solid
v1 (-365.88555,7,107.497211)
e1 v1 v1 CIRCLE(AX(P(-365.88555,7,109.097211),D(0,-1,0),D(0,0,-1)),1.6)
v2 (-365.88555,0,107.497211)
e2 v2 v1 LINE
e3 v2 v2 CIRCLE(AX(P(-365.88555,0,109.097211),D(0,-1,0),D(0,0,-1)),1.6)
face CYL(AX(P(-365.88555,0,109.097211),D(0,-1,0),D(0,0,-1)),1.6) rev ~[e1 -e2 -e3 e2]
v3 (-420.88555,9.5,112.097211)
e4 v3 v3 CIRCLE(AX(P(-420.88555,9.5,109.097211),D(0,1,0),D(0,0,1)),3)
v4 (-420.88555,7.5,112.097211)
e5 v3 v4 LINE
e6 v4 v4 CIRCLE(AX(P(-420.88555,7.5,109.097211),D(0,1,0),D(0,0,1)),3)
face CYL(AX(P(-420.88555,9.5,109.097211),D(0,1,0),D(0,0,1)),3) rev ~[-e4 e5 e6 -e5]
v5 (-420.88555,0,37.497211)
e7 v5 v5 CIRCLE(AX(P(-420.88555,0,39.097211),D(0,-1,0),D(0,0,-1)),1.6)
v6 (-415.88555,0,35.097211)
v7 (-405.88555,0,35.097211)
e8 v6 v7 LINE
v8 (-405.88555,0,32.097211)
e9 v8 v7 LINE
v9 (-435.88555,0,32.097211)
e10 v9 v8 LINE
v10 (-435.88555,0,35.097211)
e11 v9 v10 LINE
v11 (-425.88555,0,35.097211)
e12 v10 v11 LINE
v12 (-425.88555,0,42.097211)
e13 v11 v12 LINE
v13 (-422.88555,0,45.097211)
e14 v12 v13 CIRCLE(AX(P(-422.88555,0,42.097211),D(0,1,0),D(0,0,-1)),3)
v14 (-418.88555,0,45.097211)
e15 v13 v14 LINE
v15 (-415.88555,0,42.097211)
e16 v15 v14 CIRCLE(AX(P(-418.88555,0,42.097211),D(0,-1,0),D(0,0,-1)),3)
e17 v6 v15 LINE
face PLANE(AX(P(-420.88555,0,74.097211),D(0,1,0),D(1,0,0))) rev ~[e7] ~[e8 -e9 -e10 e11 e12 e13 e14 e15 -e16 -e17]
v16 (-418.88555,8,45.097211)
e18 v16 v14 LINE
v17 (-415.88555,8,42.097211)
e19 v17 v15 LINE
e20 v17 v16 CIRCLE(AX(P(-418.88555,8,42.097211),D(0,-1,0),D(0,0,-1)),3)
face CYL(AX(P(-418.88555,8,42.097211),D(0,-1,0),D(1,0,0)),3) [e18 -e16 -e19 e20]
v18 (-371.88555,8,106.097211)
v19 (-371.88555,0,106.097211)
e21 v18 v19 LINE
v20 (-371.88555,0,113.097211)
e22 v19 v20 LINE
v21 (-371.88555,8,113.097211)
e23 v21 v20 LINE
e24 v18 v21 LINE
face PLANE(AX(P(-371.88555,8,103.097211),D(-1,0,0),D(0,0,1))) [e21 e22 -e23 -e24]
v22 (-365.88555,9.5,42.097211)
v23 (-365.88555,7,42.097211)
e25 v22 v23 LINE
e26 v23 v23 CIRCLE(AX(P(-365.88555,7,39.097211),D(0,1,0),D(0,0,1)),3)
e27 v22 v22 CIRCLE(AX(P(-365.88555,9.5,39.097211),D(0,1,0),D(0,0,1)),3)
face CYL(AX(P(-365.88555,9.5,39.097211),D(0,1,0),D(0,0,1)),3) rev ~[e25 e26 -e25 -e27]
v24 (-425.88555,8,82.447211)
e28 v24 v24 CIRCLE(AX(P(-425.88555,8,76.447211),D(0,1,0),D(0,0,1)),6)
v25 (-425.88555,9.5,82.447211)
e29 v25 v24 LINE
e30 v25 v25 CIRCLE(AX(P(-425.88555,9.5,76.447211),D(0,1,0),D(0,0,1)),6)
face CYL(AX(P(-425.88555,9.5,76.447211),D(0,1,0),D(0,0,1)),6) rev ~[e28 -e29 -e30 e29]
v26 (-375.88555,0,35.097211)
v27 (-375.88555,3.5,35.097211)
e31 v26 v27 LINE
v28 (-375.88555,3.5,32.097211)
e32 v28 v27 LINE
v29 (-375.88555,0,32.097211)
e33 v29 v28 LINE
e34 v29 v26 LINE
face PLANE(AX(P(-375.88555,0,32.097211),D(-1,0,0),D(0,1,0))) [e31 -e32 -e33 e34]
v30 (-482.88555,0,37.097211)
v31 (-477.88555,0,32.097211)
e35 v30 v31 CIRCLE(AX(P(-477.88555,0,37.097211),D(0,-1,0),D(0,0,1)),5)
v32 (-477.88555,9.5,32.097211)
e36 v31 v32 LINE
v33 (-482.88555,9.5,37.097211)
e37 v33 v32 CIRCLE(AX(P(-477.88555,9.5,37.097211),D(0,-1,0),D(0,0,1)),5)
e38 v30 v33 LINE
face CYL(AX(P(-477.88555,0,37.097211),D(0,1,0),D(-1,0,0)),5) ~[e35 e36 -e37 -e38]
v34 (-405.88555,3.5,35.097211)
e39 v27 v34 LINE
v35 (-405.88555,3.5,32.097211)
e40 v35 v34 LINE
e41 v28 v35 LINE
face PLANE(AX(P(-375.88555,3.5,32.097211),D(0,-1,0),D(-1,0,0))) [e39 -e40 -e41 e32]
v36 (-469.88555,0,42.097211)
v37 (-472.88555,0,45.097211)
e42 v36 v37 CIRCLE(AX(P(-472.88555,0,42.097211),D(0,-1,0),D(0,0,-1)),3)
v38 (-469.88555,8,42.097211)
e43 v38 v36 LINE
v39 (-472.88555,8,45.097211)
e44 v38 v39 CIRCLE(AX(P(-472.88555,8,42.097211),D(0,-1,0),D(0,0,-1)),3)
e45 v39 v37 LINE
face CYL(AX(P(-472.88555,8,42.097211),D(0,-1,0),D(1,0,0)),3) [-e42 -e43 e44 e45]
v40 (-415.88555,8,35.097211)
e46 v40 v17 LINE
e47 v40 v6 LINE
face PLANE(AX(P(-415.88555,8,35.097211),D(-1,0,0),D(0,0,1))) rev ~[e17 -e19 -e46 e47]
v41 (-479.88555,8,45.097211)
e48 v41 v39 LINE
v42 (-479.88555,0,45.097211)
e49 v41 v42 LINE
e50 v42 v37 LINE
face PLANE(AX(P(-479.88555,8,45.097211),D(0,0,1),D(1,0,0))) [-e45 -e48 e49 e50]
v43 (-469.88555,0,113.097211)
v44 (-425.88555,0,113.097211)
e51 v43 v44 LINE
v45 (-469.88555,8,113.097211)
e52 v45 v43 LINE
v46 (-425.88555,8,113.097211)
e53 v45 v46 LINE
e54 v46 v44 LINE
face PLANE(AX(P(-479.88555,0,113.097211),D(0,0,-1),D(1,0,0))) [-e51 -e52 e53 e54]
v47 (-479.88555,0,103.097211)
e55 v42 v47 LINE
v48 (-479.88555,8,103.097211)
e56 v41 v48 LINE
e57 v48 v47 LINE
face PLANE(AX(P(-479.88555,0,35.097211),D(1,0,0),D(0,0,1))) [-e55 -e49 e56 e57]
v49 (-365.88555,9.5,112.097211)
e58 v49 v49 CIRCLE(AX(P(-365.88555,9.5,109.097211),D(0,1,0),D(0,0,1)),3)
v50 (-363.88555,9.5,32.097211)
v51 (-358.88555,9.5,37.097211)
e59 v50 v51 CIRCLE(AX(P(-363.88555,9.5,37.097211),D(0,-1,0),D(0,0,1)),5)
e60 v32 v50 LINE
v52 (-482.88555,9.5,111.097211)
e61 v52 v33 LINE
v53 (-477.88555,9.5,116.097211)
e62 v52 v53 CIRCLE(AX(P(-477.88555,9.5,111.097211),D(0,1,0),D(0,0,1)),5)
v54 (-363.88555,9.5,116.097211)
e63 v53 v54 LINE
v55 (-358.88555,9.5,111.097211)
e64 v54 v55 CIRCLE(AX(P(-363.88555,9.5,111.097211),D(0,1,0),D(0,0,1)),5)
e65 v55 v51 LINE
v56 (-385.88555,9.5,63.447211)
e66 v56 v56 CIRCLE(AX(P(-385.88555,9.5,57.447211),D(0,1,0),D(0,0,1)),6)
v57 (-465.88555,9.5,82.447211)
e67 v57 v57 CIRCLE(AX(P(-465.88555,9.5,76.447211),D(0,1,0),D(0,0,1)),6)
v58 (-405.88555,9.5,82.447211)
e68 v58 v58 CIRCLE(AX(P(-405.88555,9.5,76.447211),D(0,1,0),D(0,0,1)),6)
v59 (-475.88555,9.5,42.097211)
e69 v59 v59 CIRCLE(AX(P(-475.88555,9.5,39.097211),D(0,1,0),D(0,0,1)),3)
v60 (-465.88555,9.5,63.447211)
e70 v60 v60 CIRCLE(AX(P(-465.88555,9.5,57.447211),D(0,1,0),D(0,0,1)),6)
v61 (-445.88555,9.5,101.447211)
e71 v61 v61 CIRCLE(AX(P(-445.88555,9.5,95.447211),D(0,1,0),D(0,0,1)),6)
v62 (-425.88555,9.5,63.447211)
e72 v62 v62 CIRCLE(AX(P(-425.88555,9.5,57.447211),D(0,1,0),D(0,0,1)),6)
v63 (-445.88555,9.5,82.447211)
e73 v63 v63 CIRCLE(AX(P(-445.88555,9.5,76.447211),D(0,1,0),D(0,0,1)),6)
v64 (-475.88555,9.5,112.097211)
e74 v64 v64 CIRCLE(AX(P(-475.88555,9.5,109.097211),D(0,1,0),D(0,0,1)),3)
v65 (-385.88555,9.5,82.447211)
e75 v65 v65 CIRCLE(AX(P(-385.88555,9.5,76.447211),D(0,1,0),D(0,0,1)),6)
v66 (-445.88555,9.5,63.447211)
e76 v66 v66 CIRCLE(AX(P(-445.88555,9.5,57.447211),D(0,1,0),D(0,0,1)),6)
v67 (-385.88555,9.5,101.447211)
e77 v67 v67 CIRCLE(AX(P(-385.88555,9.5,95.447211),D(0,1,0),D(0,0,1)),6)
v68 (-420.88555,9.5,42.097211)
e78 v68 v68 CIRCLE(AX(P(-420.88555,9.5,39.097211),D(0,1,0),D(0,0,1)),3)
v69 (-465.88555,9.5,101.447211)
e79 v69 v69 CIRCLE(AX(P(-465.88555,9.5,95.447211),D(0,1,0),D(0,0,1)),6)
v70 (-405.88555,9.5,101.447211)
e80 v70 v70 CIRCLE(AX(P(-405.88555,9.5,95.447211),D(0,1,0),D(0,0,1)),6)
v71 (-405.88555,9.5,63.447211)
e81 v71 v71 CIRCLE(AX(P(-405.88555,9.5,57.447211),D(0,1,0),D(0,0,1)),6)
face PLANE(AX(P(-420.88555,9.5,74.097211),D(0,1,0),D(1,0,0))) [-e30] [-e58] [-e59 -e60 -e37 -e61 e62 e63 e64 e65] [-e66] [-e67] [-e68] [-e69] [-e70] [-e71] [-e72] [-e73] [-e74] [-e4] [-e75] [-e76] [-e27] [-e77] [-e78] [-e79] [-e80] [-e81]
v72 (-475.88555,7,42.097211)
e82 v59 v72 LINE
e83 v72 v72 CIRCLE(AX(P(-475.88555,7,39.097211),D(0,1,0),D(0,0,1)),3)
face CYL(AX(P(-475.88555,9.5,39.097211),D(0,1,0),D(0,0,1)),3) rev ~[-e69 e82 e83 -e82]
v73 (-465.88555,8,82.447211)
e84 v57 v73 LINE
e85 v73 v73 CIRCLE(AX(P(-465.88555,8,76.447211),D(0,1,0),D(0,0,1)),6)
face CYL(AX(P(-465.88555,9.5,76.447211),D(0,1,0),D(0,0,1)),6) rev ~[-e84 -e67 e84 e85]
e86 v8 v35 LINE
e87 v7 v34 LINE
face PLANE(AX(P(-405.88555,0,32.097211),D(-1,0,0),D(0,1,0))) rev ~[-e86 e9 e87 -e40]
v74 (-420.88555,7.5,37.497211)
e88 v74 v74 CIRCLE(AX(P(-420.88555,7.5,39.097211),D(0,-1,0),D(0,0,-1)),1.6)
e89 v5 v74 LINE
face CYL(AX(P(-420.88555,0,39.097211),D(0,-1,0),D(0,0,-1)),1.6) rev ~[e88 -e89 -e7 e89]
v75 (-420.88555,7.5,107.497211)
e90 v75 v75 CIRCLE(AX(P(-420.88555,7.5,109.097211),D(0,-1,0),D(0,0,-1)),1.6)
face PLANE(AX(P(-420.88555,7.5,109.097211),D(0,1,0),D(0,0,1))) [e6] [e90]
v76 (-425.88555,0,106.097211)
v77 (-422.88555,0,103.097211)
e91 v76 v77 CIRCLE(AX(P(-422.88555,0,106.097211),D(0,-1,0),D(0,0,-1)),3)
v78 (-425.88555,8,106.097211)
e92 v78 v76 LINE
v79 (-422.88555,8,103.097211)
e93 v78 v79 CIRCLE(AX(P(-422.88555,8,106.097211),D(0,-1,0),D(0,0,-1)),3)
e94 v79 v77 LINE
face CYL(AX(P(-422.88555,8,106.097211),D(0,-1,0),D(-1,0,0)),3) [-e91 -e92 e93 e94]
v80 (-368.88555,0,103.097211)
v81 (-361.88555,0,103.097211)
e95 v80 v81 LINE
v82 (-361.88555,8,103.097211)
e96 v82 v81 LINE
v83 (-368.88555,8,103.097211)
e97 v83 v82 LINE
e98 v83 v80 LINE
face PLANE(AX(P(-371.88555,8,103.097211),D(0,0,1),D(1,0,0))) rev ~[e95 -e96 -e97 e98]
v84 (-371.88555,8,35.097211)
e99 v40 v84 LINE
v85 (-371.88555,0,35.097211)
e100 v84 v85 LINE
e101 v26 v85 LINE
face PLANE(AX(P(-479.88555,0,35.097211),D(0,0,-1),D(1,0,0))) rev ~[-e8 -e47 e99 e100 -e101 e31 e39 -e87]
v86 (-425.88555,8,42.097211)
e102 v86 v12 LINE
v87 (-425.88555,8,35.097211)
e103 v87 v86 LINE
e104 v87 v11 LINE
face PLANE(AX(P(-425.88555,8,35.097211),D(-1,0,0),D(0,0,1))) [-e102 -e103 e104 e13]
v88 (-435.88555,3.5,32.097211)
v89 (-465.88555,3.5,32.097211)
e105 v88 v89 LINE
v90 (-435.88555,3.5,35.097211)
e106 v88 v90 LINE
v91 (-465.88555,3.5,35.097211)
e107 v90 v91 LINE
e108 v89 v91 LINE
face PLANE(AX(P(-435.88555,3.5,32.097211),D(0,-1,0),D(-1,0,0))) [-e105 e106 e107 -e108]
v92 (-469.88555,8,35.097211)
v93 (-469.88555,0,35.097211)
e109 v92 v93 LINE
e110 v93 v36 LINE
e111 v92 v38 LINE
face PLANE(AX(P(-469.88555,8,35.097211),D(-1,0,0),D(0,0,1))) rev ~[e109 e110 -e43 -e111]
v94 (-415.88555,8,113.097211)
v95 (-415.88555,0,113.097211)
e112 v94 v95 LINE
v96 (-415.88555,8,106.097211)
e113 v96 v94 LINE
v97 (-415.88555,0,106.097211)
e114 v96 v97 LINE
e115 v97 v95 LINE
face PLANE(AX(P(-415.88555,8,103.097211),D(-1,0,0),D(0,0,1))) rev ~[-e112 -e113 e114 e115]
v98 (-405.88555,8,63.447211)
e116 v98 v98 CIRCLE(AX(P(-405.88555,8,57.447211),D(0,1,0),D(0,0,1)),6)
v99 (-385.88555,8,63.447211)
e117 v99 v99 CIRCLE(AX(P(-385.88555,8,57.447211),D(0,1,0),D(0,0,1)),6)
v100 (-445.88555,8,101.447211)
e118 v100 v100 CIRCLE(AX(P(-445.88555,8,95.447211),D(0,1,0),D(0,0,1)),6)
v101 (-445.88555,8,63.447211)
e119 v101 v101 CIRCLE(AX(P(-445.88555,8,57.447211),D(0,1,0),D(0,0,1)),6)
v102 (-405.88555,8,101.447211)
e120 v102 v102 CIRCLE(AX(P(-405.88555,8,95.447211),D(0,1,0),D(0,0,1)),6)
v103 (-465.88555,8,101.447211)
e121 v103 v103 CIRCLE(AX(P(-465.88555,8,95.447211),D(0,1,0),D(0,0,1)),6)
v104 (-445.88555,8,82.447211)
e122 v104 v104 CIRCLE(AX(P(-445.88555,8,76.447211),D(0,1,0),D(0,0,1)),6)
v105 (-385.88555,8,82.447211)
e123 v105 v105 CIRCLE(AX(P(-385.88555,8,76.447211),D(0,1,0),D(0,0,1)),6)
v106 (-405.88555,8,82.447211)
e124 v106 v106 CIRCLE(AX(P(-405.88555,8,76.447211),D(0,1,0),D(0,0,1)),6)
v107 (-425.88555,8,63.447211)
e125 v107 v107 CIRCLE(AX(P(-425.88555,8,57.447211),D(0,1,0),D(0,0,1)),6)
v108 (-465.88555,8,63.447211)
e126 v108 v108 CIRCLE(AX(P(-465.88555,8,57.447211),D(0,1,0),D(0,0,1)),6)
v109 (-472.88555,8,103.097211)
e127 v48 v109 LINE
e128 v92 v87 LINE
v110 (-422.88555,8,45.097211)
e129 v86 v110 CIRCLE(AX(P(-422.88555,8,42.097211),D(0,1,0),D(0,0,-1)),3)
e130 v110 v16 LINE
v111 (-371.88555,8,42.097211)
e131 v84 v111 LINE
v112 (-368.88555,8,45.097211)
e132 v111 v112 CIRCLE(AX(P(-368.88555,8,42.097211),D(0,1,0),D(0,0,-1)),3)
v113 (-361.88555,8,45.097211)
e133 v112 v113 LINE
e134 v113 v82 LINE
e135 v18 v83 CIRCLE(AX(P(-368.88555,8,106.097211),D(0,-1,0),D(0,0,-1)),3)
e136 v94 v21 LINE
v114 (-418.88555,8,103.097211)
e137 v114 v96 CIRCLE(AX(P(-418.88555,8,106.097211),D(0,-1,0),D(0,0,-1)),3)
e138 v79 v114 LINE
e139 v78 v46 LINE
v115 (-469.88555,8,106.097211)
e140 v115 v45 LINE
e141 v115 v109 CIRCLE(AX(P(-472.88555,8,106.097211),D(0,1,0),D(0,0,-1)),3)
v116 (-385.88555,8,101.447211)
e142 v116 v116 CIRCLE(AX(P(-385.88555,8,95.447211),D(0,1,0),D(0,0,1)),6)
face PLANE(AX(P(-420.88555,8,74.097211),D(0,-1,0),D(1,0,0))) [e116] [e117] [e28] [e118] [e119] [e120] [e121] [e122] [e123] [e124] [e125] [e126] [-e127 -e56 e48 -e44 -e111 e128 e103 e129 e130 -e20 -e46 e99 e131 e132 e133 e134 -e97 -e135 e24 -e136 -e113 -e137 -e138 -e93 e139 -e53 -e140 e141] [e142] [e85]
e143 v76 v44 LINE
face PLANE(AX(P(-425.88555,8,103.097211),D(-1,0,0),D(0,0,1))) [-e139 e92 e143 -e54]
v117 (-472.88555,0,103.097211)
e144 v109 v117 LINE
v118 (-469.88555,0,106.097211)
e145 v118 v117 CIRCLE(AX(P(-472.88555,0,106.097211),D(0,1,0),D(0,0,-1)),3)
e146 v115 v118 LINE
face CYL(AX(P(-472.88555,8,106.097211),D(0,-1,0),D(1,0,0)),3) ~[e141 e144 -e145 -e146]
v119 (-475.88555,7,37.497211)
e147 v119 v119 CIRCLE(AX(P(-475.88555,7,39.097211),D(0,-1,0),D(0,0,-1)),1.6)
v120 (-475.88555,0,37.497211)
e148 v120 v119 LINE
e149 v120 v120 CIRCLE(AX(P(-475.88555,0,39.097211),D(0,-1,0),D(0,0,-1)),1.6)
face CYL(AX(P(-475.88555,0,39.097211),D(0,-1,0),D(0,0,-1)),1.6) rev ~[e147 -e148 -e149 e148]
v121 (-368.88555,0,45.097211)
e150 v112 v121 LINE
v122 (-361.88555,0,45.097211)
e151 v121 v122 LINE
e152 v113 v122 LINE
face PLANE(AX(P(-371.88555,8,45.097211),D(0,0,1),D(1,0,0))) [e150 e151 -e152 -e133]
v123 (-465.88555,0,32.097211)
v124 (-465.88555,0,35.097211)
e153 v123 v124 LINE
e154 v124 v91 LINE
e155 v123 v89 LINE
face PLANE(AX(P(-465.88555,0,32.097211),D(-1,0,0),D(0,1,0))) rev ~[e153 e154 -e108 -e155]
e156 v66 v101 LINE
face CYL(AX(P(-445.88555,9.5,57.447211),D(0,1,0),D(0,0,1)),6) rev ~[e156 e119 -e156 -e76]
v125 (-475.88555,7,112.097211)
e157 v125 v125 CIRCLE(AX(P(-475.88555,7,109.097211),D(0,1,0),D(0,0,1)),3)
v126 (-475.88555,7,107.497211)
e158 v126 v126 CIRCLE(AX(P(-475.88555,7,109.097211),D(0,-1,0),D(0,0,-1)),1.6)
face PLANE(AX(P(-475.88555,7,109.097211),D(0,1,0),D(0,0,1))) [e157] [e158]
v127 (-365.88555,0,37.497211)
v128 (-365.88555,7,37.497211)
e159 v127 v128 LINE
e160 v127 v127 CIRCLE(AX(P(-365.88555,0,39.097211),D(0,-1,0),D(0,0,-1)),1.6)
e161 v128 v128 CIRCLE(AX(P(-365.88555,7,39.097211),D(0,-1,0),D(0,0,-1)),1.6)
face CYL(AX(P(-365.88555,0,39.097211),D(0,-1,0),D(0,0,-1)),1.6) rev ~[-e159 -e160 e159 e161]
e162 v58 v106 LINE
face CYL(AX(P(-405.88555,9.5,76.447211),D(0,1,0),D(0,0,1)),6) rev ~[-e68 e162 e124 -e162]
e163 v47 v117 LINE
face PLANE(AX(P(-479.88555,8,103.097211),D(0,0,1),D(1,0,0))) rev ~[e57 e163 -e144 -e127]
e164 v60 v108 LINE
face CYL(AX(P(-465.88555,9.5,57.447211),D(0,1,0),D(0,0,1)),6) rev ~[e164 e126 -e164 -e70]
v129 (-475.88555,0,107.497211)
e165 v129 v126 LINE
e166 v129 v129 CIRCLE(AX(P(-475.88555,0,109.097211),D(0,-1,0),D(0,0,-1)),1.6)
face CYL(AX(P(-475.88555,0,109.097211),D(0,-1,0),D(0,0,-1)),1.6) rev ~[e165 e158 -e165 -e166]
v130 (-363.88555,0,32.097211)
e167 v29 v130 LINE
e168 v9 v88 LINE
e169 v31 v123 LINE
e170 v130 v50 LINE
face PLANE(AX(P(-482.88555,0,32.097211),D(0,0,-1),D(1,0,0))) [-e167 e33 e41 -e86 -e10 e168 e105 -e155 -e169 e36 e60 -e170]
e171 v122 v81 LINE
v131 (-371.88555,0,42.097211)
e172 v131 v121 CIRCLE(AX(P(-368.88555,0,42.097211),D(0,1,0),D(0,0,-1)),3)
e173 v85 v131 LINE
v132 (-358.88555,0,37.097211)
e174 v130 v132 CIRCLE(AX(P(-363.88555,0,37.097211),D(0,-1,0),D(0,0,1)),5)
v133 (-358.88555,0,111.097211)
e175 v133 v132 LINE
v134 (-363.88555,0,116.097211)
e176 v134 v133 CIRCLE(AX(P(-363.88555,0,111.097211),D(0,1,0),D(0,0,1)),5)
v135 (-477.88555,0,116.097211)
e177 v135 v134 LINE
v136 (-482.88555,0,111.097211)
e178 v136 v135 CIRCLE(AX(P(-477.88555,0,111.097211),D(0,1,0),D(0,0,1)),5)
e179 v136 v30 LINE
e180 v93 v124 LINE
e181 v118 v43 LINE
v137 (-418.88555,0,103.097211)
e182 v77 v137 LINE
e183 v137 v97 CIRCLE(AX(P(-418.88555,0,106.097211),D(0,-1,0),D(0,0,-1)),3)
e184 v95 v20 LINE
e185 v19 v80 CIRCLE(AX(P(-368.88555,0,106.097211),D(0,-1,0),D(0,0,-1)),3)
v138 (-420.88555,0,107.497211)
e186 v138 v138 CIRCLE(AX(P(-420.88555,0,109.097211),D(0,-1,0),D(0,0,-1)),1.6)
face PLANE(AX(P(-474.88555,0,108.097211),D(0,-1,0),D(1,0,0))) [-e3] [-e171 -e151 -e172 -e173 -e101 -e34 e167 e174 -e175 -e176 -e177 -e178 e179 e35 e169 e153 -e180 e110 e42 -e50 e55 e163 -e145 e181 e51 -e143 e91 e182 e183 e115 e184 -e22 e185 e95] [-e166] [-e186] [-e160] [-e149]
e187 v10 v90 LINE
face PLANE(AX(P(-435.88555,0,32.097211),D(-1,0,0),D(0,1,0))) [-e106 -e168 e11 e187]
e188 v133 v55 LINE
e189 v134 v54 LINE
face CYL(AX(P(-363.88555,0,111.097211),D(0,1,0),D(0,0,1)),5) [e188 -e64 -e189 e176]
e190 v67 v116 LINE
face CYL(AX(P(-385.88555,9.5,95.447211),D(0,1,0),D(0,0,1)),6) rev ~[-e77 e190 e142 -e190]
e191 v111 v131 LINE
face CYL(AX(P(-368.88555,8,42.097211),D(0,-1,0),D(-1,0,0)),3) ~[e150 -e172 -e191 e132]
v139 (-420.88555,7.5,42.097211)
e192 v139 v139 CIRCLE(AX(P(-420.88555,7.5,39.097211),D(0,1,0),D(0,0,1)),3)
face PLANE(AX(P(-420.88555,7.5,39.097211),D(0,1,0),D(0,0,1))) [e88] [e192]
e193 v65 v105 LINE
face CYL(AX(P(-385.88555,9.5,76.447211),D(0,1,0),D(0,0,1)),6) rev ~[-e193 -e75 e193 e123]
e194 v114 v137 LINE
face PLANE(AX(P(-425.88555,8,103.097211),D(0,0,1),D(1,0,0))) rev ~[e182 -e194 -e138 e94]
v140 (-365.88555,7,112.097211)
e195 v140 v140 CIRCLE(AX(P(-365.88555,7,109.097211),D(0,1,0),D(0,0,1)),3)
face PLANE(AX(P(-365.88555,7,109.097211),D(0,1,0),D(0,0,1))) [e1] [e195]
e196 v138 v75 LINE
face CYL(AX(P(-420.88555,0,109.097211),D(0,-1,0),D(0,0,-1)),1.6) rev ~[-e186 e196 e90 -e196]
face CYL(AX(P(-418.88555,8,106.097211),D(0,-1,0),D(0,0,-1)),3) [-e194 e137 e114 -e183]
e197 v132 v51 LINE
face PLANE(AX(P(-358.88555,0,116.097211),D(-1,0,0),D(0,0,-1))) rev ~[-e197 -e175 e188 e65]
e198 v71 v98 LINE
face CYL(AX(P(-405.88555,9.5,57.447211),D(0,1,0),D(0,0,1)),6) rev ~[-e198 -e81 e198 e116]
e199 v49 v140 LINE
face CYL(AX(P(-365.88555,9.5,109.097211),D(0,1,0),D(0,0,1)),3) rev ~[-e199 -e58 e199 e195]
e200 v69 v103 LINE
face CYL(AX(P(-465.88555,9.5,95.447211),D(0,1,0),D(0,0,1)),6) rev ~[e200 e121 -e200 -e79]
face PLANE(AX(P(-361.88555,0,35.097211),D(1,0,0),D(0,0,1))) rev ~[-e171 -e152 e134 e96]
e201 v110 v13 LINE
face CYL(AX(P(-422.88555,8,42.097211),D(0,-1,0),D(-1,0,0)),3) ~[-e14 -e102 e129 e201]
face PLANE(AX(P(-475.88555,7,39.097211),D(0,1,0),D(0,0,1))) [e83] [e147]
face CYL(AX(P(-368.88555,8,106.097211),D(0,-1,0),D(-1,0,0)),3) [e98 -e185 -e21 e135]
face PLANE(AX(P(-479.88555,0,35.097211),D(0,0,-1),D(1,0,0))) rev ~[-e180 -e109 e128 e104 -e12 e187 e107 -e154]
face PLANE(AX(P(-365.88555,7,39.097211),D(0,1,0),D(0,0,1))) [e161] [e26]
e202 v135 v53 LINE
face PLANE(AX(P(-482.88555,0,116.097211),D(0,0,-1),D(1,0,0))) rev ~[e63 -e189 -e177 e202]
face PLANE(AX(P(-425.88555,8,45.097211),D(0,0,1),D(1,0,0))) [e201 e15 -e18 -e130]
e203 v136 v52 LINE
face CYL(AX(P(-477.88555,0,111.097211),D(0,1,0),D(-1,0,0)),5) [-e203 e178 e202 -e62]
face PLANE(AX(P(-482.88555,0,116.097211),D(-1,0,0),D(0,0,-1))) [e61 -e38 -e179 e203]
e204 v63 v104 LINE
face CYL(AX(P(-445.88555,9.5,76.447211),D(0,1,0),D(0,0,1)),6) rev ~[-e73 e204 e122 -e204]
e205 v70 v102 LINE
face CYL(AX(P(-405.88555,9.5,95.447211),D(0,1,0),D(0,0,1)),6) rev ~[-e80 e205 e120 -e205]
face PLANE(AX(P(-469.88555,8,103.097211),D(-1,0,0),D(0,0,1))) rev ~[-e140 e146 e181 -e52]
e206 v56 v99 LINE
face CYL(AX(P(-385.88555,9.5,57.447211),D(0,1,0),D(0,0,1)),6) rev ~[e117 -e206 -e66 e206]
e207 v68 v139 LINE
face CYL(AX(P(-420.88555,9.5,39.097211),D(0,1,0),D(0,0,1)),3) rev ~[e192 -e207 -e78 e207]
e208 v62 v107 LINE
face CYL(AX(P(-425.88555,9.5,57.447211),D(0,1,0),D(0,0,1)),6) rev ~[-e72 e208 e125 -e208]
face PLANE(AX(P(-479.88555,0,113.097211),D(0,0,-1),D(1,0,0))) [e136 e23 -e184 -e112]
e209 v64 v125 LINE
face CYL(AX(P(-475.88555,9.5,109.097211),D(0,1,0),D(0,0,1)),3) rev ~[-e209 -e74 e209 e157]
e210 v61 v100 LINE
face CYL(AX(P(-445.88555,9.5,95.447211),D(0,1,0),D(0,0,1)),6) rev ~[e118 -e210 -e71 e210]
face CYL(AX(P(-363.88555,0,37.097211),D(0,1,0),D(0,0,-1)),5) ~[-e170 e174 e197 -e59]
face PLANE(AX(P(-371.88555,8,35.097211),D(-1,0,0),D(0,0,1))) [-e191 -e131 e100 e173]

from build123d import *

# Parameters (mm, degrees)
SKETCH1_W           = 124
SKETCH1_H           = 84
BOSS_EXTRUDE1_DEPTH = 9.5
SKETCH2_W           = 118
SKETCH2_H           = 78
CUT_EXTRUDE1_DEPTH  = 8
FILLET1_R           = 2
FILLET2_R           = 5
SKETCH3_R           = 6
CUT_EXTRUDE2_DEPTH  = 2
SKETCH4_W           = 30
SKETCH4_H           = 3.5
CUT_EXTRUDE3_DEPTH  = 4
SKETCH5_W           = 10
SKETCH5_H           = 10
BOSS_EXTRUDE2_DEPTH = 8
FILLET3_R           = 3
SKETCH6_R           = 1.6
CUT_EXTRUDE4_DEPTH  = 9.5
SKETCH7_R           = 3
CUT_EXTRUDE5_DEPTH  = 2.5
SKETCH8_W           = 10
SKETCH8_H           = 10
BOSS_EXTRUDE3_DEPTH = 8
FILLET4_R           = 3
SKETCH9_R           = 1.6
CUT_EXTRUDE6_DEPTH  = 9.5
SKETCH10_R          = 3
CUT_EXTRUDE7_DEPTH  = 2


with BuildPart() as part:
    # Sketch1 → Boss-Extrude1 (new body)
    with BuildSketch(Plane(origin=(0, 0, 0), x_dir=(1, 0, 0), z_dir=(0, 1, 0))):
        with Locations((-420.885550013, -74.097210731)):
            Rectangle(SKETCH1_W, SKETCH1_H)
    extrude(amount=BOSS_EXTRUDE1_DEPTH)

    # Sketch2 → Cut-Extrude1 (cut)
    with BuildSketch(Plane.XZ):
        with Locations((-420.885550013, 74.097210731)):
            Rectangle(SKETCH2_W, SKETCH2_H)
    extrude(amount=-CUT_EXTRUDE1_DEPTH, mode=Mode.SUBTRACT)

    # Fillet1
    fillet1_edges = [part.edges().sort_by_distance(p)[0] for p in [
        (-479.885550013, 4, 35.097210731),
        (-479.885550013, 4, 113.097210731),
        (-361.885550013, 4, 113.097210731),
        (-361.885550013, 4, 35.097210731),
    ]]
    fillet(fillet1_edges, radius=FILLET1_R)

    # Fillet2
    fillet2_edges = [part.edges().sort_by_distance(p)[0] for p in [
        (-482.885550013, 4.75, 32.097210731),
        (-358.885550013, 4.75, 32.097210731),
        (-358.885550013, 4.75, 116.097210731),
        (-482.885550013, 4.75, 116.097210731),
    ]]
    fillet(fillet2_edges, radius=FILLET2_R)

    # Sketch3 → Cut-Extrude2 (cut)
    with BuildSketch(Plane(origin=(0, 9.5, 0), x_dir=(1, 0, 0), z_dir=(0, 1, 0))):
        with Locations(Location((-465.885550013, -57.447210731, 0), (0, 0, 270))):
            Circle(SKETCH3_R)
        with Locations(Location((-445.885550013, -57.447210731, 0), (0, 0, 270))):
            Circle(SKETCH3_R)
        with Locations(Location((-425.885550013, -57.447210731, 0), (0, 0, 270))):
            Circle(SKETCH3_R)
        with Locations(Location((-405.885550013, -57.447210731, 0), (0, 0, 270))):
            Circle(SKETCH3_R)
        with Locations(Location((-385.885550013, -57.447210731, 0), (0, 0, 270))):
            Circle(SKETCH3_R)
        with Locations(Location((-465.885550013, -76.447210731, 0), (0, 0, 270))):
            Circle(SKETCH3_R)
        with Locations(Location((-445.885550013, -76.447210731, 0), (0, 0, 270))):
            Circle(SKETCH3_R)
        with Locations(Location((-425.885550013, -76.447210731, 0), (0, 0, 270))):
            Circle(SKETCH3_R)
        with Locations(Location((-405.885550013, -76.447210731, 0), (0, 0, 270))):
            Circle(SKETCH3_R)
        with Locations(Location((-385.885550013, -76.447210731, 0), (0, 0, 270))):
            Circle(SKETCH3_R)
        with Locations(Location((-465.885550013, -95.447210731, 0), (0, 0, 270))):
            Circle(SKETCH3_R)
        with Locations(Location((-445.885550013, -95.447210731, 0), (0, 0, 270))):
            Circle(SKETCH3_R)
        with Locations(Location((-405.885550013, -95.447210731, 0), (0, 0, 270))):
            Circle(SKETCH3_R)
        with Locations(Location((-385.885550013, -95.447210731, 0), (0, 0, 270))):
            Circle(SKETCH3_R)
    extrude(amount=-CUT_EXTRUDE2_DEPTH, mode=Mode.SUBTRACT)

    # Sketch4 → Cut-Extrude3 (cut)
    with BuildSketch(Plane(origin=(0, 0, 32.097210731), x_dir=(-1, 0, 0), z_dir=(0, 0, -1))):
        with Locations((390.885550013, 1.75)):
            Rectangle(SKETCH4_W, SKETCH4_H)
        with Locations((450.885550013, 1.75)):
            Rectangle(SKETCH4_W, SKETCH4_H)
    extrude(amount=-CUT_EXTRUDE3_DEPTH, mode=Mode.SUBTRACT)

    # Sketch5 → Boss-Extrude2 (add)
    with BuildSketch(Plane.XZ.offset(-8)):
        with Locations((-474.885550013, 108.097210731)):
            Rectangle(SKETCH5_W, SKETCH5_H)
        with Locations((-366.885550013, 108.097210731)):
            Rectangle(SKETCH5_W, SKETCH5_H)
        with Locations((-366.885550013, 40.097210731)):
            Rectangle(SKETCH5_W, SKETCH5_H)
        with Locations((-474.885550013, 40.097210731)):
            Rectangle(SKETCH5_W, SKETCH5_H)
    extrude(amount=BOSS_EXTRUDE2_DEPTH)

    # Fillet3
    fillet3_edges = [part.edges().sort_by_distance(p)[0] for p in [
        (-469.885550013, 4, 103.097210731),
        (-371.885550013, 4, 103.097210731),
        (-371.885550013, 4, 45.097210731),
        (-469.885550013, 4, 45.097210731),
    ]]
    fillet(fillet3_edges, radius=FILLET3_R)

    # Sketch6 → Cut-Extrude4 (cut)
    with BuildSketch(Plane.XZ):
        with Locations(Location((-475.885550013, 109.097210731, 0), (0, 0, 270))):
            Circle(SKETCH6_R)
        with Locations(Location((-365.885550013, 109.097210731, 0), (0, 0, 270))):
            Circle(SKETCH6_R)
        with Locations(Location((-365.885550013, 39.097210731, 0), (0, 0, 270))):
            Circle(SKETCH6_R)
        with Locations(Location((-475.885550013, 39.097210731, 0), (0, 0, 270))):
            Circle(SKETCH6_R)
    extrude(amount=-CUT_EXTRUDE4_DEPTH, mode=Mode.SUBTRACT)

    # Sketch7 → Cut-Extrude5 (cut)
    with BuildSketch(Plane(origin=(0, 9.5, 0), x_dir=(1, 0, 0), z_dir=(0, 1, 0))):
        with Locations(Location((-365.885550013, -39.097210731, 0), (0, 0, 270))):
            Circle(SKETCH7_R)
        with Locations(Location((-365.885550013, -109.097210731, 0), (0, 0, 270))):
            Circle(SKETCH7_R)
        with Locations(Location((-475.885550013, -109.097210731, 0), (0, 0, 270))):
            Circle(SKETCH7_R)
        with Locations(Location((-475.885550013, -39.097210731, 0), (0, 0, 270))):
            Circle(SKETCH7_R)
    extrude(amount=-CUT_EXTRUDE5_DEPTH, mode=Mode.SUBTRACT)

    # Sketch8 → Boss-Extrude3 (add)
    with BuildSketch(Plane.XZ.offset(-8)):
        with Locations((-420.885550013, 40.097210731)):
            Rectangle(SKETCH8_W, SKETCH8_H)
        with Locations((-420.885550013, 108.097210731)):
            Rectangle(SKETCH8_W, SKETCH8_H)
    extrude(amount=BOSS_EXTRUDE3_DEPTH)

    # Fillet4
    fillet4_edges = [part.edges().sort_by_distance(p)[0] for p in [
        (-425.885550013, 4, 45.097210731),
        (-415.885550013, 4, 45.097210731),
        (-425.885550013, 4, 103.097210731),
        (-415.885550013, 4, 103.097210731),
    ]]
    fillet(fillet4_edges, radius=FILLET4_R)

    # Sketch9 → Cut-Extrude6 (cut)
    with BuildSketch(Plane.XZ):
        with Locations(Location((-420.885550013, 39.097210731, 0), (0, 0, 270))):
            Circle(SKETCH9_R)
        with Locations(Location((-420.885550013, 109.097210731, 0), (0, 0, 270))):
            Circle(SKETCH9_R)
    extrude(amount=-CUT_EXTRUDE6_DEPTH, mode=Mode.SUBTRACT)

    # Sketch10 → Cut-Extrude7 (cut)
    with BuildSketch(Plane(origin=(0, 9.5, 0), x_dir=(1, 0, 0), z_dir=(0, 1, 0))):
        with Locations(Location((-420.885550013, -109.097210731, 0), (0, 0, 270))):
            Circle(SKETCH10_R)
        with Locations(Location((-420.885550013, -39.097210731, 0), (0, 0, 270))):
            Circle(SKETCH10_R)
    extrude(amount=-CUT_EXTRUDE7_DEPTH, mode=Mode.SUBTRACT)


solid = part.part
